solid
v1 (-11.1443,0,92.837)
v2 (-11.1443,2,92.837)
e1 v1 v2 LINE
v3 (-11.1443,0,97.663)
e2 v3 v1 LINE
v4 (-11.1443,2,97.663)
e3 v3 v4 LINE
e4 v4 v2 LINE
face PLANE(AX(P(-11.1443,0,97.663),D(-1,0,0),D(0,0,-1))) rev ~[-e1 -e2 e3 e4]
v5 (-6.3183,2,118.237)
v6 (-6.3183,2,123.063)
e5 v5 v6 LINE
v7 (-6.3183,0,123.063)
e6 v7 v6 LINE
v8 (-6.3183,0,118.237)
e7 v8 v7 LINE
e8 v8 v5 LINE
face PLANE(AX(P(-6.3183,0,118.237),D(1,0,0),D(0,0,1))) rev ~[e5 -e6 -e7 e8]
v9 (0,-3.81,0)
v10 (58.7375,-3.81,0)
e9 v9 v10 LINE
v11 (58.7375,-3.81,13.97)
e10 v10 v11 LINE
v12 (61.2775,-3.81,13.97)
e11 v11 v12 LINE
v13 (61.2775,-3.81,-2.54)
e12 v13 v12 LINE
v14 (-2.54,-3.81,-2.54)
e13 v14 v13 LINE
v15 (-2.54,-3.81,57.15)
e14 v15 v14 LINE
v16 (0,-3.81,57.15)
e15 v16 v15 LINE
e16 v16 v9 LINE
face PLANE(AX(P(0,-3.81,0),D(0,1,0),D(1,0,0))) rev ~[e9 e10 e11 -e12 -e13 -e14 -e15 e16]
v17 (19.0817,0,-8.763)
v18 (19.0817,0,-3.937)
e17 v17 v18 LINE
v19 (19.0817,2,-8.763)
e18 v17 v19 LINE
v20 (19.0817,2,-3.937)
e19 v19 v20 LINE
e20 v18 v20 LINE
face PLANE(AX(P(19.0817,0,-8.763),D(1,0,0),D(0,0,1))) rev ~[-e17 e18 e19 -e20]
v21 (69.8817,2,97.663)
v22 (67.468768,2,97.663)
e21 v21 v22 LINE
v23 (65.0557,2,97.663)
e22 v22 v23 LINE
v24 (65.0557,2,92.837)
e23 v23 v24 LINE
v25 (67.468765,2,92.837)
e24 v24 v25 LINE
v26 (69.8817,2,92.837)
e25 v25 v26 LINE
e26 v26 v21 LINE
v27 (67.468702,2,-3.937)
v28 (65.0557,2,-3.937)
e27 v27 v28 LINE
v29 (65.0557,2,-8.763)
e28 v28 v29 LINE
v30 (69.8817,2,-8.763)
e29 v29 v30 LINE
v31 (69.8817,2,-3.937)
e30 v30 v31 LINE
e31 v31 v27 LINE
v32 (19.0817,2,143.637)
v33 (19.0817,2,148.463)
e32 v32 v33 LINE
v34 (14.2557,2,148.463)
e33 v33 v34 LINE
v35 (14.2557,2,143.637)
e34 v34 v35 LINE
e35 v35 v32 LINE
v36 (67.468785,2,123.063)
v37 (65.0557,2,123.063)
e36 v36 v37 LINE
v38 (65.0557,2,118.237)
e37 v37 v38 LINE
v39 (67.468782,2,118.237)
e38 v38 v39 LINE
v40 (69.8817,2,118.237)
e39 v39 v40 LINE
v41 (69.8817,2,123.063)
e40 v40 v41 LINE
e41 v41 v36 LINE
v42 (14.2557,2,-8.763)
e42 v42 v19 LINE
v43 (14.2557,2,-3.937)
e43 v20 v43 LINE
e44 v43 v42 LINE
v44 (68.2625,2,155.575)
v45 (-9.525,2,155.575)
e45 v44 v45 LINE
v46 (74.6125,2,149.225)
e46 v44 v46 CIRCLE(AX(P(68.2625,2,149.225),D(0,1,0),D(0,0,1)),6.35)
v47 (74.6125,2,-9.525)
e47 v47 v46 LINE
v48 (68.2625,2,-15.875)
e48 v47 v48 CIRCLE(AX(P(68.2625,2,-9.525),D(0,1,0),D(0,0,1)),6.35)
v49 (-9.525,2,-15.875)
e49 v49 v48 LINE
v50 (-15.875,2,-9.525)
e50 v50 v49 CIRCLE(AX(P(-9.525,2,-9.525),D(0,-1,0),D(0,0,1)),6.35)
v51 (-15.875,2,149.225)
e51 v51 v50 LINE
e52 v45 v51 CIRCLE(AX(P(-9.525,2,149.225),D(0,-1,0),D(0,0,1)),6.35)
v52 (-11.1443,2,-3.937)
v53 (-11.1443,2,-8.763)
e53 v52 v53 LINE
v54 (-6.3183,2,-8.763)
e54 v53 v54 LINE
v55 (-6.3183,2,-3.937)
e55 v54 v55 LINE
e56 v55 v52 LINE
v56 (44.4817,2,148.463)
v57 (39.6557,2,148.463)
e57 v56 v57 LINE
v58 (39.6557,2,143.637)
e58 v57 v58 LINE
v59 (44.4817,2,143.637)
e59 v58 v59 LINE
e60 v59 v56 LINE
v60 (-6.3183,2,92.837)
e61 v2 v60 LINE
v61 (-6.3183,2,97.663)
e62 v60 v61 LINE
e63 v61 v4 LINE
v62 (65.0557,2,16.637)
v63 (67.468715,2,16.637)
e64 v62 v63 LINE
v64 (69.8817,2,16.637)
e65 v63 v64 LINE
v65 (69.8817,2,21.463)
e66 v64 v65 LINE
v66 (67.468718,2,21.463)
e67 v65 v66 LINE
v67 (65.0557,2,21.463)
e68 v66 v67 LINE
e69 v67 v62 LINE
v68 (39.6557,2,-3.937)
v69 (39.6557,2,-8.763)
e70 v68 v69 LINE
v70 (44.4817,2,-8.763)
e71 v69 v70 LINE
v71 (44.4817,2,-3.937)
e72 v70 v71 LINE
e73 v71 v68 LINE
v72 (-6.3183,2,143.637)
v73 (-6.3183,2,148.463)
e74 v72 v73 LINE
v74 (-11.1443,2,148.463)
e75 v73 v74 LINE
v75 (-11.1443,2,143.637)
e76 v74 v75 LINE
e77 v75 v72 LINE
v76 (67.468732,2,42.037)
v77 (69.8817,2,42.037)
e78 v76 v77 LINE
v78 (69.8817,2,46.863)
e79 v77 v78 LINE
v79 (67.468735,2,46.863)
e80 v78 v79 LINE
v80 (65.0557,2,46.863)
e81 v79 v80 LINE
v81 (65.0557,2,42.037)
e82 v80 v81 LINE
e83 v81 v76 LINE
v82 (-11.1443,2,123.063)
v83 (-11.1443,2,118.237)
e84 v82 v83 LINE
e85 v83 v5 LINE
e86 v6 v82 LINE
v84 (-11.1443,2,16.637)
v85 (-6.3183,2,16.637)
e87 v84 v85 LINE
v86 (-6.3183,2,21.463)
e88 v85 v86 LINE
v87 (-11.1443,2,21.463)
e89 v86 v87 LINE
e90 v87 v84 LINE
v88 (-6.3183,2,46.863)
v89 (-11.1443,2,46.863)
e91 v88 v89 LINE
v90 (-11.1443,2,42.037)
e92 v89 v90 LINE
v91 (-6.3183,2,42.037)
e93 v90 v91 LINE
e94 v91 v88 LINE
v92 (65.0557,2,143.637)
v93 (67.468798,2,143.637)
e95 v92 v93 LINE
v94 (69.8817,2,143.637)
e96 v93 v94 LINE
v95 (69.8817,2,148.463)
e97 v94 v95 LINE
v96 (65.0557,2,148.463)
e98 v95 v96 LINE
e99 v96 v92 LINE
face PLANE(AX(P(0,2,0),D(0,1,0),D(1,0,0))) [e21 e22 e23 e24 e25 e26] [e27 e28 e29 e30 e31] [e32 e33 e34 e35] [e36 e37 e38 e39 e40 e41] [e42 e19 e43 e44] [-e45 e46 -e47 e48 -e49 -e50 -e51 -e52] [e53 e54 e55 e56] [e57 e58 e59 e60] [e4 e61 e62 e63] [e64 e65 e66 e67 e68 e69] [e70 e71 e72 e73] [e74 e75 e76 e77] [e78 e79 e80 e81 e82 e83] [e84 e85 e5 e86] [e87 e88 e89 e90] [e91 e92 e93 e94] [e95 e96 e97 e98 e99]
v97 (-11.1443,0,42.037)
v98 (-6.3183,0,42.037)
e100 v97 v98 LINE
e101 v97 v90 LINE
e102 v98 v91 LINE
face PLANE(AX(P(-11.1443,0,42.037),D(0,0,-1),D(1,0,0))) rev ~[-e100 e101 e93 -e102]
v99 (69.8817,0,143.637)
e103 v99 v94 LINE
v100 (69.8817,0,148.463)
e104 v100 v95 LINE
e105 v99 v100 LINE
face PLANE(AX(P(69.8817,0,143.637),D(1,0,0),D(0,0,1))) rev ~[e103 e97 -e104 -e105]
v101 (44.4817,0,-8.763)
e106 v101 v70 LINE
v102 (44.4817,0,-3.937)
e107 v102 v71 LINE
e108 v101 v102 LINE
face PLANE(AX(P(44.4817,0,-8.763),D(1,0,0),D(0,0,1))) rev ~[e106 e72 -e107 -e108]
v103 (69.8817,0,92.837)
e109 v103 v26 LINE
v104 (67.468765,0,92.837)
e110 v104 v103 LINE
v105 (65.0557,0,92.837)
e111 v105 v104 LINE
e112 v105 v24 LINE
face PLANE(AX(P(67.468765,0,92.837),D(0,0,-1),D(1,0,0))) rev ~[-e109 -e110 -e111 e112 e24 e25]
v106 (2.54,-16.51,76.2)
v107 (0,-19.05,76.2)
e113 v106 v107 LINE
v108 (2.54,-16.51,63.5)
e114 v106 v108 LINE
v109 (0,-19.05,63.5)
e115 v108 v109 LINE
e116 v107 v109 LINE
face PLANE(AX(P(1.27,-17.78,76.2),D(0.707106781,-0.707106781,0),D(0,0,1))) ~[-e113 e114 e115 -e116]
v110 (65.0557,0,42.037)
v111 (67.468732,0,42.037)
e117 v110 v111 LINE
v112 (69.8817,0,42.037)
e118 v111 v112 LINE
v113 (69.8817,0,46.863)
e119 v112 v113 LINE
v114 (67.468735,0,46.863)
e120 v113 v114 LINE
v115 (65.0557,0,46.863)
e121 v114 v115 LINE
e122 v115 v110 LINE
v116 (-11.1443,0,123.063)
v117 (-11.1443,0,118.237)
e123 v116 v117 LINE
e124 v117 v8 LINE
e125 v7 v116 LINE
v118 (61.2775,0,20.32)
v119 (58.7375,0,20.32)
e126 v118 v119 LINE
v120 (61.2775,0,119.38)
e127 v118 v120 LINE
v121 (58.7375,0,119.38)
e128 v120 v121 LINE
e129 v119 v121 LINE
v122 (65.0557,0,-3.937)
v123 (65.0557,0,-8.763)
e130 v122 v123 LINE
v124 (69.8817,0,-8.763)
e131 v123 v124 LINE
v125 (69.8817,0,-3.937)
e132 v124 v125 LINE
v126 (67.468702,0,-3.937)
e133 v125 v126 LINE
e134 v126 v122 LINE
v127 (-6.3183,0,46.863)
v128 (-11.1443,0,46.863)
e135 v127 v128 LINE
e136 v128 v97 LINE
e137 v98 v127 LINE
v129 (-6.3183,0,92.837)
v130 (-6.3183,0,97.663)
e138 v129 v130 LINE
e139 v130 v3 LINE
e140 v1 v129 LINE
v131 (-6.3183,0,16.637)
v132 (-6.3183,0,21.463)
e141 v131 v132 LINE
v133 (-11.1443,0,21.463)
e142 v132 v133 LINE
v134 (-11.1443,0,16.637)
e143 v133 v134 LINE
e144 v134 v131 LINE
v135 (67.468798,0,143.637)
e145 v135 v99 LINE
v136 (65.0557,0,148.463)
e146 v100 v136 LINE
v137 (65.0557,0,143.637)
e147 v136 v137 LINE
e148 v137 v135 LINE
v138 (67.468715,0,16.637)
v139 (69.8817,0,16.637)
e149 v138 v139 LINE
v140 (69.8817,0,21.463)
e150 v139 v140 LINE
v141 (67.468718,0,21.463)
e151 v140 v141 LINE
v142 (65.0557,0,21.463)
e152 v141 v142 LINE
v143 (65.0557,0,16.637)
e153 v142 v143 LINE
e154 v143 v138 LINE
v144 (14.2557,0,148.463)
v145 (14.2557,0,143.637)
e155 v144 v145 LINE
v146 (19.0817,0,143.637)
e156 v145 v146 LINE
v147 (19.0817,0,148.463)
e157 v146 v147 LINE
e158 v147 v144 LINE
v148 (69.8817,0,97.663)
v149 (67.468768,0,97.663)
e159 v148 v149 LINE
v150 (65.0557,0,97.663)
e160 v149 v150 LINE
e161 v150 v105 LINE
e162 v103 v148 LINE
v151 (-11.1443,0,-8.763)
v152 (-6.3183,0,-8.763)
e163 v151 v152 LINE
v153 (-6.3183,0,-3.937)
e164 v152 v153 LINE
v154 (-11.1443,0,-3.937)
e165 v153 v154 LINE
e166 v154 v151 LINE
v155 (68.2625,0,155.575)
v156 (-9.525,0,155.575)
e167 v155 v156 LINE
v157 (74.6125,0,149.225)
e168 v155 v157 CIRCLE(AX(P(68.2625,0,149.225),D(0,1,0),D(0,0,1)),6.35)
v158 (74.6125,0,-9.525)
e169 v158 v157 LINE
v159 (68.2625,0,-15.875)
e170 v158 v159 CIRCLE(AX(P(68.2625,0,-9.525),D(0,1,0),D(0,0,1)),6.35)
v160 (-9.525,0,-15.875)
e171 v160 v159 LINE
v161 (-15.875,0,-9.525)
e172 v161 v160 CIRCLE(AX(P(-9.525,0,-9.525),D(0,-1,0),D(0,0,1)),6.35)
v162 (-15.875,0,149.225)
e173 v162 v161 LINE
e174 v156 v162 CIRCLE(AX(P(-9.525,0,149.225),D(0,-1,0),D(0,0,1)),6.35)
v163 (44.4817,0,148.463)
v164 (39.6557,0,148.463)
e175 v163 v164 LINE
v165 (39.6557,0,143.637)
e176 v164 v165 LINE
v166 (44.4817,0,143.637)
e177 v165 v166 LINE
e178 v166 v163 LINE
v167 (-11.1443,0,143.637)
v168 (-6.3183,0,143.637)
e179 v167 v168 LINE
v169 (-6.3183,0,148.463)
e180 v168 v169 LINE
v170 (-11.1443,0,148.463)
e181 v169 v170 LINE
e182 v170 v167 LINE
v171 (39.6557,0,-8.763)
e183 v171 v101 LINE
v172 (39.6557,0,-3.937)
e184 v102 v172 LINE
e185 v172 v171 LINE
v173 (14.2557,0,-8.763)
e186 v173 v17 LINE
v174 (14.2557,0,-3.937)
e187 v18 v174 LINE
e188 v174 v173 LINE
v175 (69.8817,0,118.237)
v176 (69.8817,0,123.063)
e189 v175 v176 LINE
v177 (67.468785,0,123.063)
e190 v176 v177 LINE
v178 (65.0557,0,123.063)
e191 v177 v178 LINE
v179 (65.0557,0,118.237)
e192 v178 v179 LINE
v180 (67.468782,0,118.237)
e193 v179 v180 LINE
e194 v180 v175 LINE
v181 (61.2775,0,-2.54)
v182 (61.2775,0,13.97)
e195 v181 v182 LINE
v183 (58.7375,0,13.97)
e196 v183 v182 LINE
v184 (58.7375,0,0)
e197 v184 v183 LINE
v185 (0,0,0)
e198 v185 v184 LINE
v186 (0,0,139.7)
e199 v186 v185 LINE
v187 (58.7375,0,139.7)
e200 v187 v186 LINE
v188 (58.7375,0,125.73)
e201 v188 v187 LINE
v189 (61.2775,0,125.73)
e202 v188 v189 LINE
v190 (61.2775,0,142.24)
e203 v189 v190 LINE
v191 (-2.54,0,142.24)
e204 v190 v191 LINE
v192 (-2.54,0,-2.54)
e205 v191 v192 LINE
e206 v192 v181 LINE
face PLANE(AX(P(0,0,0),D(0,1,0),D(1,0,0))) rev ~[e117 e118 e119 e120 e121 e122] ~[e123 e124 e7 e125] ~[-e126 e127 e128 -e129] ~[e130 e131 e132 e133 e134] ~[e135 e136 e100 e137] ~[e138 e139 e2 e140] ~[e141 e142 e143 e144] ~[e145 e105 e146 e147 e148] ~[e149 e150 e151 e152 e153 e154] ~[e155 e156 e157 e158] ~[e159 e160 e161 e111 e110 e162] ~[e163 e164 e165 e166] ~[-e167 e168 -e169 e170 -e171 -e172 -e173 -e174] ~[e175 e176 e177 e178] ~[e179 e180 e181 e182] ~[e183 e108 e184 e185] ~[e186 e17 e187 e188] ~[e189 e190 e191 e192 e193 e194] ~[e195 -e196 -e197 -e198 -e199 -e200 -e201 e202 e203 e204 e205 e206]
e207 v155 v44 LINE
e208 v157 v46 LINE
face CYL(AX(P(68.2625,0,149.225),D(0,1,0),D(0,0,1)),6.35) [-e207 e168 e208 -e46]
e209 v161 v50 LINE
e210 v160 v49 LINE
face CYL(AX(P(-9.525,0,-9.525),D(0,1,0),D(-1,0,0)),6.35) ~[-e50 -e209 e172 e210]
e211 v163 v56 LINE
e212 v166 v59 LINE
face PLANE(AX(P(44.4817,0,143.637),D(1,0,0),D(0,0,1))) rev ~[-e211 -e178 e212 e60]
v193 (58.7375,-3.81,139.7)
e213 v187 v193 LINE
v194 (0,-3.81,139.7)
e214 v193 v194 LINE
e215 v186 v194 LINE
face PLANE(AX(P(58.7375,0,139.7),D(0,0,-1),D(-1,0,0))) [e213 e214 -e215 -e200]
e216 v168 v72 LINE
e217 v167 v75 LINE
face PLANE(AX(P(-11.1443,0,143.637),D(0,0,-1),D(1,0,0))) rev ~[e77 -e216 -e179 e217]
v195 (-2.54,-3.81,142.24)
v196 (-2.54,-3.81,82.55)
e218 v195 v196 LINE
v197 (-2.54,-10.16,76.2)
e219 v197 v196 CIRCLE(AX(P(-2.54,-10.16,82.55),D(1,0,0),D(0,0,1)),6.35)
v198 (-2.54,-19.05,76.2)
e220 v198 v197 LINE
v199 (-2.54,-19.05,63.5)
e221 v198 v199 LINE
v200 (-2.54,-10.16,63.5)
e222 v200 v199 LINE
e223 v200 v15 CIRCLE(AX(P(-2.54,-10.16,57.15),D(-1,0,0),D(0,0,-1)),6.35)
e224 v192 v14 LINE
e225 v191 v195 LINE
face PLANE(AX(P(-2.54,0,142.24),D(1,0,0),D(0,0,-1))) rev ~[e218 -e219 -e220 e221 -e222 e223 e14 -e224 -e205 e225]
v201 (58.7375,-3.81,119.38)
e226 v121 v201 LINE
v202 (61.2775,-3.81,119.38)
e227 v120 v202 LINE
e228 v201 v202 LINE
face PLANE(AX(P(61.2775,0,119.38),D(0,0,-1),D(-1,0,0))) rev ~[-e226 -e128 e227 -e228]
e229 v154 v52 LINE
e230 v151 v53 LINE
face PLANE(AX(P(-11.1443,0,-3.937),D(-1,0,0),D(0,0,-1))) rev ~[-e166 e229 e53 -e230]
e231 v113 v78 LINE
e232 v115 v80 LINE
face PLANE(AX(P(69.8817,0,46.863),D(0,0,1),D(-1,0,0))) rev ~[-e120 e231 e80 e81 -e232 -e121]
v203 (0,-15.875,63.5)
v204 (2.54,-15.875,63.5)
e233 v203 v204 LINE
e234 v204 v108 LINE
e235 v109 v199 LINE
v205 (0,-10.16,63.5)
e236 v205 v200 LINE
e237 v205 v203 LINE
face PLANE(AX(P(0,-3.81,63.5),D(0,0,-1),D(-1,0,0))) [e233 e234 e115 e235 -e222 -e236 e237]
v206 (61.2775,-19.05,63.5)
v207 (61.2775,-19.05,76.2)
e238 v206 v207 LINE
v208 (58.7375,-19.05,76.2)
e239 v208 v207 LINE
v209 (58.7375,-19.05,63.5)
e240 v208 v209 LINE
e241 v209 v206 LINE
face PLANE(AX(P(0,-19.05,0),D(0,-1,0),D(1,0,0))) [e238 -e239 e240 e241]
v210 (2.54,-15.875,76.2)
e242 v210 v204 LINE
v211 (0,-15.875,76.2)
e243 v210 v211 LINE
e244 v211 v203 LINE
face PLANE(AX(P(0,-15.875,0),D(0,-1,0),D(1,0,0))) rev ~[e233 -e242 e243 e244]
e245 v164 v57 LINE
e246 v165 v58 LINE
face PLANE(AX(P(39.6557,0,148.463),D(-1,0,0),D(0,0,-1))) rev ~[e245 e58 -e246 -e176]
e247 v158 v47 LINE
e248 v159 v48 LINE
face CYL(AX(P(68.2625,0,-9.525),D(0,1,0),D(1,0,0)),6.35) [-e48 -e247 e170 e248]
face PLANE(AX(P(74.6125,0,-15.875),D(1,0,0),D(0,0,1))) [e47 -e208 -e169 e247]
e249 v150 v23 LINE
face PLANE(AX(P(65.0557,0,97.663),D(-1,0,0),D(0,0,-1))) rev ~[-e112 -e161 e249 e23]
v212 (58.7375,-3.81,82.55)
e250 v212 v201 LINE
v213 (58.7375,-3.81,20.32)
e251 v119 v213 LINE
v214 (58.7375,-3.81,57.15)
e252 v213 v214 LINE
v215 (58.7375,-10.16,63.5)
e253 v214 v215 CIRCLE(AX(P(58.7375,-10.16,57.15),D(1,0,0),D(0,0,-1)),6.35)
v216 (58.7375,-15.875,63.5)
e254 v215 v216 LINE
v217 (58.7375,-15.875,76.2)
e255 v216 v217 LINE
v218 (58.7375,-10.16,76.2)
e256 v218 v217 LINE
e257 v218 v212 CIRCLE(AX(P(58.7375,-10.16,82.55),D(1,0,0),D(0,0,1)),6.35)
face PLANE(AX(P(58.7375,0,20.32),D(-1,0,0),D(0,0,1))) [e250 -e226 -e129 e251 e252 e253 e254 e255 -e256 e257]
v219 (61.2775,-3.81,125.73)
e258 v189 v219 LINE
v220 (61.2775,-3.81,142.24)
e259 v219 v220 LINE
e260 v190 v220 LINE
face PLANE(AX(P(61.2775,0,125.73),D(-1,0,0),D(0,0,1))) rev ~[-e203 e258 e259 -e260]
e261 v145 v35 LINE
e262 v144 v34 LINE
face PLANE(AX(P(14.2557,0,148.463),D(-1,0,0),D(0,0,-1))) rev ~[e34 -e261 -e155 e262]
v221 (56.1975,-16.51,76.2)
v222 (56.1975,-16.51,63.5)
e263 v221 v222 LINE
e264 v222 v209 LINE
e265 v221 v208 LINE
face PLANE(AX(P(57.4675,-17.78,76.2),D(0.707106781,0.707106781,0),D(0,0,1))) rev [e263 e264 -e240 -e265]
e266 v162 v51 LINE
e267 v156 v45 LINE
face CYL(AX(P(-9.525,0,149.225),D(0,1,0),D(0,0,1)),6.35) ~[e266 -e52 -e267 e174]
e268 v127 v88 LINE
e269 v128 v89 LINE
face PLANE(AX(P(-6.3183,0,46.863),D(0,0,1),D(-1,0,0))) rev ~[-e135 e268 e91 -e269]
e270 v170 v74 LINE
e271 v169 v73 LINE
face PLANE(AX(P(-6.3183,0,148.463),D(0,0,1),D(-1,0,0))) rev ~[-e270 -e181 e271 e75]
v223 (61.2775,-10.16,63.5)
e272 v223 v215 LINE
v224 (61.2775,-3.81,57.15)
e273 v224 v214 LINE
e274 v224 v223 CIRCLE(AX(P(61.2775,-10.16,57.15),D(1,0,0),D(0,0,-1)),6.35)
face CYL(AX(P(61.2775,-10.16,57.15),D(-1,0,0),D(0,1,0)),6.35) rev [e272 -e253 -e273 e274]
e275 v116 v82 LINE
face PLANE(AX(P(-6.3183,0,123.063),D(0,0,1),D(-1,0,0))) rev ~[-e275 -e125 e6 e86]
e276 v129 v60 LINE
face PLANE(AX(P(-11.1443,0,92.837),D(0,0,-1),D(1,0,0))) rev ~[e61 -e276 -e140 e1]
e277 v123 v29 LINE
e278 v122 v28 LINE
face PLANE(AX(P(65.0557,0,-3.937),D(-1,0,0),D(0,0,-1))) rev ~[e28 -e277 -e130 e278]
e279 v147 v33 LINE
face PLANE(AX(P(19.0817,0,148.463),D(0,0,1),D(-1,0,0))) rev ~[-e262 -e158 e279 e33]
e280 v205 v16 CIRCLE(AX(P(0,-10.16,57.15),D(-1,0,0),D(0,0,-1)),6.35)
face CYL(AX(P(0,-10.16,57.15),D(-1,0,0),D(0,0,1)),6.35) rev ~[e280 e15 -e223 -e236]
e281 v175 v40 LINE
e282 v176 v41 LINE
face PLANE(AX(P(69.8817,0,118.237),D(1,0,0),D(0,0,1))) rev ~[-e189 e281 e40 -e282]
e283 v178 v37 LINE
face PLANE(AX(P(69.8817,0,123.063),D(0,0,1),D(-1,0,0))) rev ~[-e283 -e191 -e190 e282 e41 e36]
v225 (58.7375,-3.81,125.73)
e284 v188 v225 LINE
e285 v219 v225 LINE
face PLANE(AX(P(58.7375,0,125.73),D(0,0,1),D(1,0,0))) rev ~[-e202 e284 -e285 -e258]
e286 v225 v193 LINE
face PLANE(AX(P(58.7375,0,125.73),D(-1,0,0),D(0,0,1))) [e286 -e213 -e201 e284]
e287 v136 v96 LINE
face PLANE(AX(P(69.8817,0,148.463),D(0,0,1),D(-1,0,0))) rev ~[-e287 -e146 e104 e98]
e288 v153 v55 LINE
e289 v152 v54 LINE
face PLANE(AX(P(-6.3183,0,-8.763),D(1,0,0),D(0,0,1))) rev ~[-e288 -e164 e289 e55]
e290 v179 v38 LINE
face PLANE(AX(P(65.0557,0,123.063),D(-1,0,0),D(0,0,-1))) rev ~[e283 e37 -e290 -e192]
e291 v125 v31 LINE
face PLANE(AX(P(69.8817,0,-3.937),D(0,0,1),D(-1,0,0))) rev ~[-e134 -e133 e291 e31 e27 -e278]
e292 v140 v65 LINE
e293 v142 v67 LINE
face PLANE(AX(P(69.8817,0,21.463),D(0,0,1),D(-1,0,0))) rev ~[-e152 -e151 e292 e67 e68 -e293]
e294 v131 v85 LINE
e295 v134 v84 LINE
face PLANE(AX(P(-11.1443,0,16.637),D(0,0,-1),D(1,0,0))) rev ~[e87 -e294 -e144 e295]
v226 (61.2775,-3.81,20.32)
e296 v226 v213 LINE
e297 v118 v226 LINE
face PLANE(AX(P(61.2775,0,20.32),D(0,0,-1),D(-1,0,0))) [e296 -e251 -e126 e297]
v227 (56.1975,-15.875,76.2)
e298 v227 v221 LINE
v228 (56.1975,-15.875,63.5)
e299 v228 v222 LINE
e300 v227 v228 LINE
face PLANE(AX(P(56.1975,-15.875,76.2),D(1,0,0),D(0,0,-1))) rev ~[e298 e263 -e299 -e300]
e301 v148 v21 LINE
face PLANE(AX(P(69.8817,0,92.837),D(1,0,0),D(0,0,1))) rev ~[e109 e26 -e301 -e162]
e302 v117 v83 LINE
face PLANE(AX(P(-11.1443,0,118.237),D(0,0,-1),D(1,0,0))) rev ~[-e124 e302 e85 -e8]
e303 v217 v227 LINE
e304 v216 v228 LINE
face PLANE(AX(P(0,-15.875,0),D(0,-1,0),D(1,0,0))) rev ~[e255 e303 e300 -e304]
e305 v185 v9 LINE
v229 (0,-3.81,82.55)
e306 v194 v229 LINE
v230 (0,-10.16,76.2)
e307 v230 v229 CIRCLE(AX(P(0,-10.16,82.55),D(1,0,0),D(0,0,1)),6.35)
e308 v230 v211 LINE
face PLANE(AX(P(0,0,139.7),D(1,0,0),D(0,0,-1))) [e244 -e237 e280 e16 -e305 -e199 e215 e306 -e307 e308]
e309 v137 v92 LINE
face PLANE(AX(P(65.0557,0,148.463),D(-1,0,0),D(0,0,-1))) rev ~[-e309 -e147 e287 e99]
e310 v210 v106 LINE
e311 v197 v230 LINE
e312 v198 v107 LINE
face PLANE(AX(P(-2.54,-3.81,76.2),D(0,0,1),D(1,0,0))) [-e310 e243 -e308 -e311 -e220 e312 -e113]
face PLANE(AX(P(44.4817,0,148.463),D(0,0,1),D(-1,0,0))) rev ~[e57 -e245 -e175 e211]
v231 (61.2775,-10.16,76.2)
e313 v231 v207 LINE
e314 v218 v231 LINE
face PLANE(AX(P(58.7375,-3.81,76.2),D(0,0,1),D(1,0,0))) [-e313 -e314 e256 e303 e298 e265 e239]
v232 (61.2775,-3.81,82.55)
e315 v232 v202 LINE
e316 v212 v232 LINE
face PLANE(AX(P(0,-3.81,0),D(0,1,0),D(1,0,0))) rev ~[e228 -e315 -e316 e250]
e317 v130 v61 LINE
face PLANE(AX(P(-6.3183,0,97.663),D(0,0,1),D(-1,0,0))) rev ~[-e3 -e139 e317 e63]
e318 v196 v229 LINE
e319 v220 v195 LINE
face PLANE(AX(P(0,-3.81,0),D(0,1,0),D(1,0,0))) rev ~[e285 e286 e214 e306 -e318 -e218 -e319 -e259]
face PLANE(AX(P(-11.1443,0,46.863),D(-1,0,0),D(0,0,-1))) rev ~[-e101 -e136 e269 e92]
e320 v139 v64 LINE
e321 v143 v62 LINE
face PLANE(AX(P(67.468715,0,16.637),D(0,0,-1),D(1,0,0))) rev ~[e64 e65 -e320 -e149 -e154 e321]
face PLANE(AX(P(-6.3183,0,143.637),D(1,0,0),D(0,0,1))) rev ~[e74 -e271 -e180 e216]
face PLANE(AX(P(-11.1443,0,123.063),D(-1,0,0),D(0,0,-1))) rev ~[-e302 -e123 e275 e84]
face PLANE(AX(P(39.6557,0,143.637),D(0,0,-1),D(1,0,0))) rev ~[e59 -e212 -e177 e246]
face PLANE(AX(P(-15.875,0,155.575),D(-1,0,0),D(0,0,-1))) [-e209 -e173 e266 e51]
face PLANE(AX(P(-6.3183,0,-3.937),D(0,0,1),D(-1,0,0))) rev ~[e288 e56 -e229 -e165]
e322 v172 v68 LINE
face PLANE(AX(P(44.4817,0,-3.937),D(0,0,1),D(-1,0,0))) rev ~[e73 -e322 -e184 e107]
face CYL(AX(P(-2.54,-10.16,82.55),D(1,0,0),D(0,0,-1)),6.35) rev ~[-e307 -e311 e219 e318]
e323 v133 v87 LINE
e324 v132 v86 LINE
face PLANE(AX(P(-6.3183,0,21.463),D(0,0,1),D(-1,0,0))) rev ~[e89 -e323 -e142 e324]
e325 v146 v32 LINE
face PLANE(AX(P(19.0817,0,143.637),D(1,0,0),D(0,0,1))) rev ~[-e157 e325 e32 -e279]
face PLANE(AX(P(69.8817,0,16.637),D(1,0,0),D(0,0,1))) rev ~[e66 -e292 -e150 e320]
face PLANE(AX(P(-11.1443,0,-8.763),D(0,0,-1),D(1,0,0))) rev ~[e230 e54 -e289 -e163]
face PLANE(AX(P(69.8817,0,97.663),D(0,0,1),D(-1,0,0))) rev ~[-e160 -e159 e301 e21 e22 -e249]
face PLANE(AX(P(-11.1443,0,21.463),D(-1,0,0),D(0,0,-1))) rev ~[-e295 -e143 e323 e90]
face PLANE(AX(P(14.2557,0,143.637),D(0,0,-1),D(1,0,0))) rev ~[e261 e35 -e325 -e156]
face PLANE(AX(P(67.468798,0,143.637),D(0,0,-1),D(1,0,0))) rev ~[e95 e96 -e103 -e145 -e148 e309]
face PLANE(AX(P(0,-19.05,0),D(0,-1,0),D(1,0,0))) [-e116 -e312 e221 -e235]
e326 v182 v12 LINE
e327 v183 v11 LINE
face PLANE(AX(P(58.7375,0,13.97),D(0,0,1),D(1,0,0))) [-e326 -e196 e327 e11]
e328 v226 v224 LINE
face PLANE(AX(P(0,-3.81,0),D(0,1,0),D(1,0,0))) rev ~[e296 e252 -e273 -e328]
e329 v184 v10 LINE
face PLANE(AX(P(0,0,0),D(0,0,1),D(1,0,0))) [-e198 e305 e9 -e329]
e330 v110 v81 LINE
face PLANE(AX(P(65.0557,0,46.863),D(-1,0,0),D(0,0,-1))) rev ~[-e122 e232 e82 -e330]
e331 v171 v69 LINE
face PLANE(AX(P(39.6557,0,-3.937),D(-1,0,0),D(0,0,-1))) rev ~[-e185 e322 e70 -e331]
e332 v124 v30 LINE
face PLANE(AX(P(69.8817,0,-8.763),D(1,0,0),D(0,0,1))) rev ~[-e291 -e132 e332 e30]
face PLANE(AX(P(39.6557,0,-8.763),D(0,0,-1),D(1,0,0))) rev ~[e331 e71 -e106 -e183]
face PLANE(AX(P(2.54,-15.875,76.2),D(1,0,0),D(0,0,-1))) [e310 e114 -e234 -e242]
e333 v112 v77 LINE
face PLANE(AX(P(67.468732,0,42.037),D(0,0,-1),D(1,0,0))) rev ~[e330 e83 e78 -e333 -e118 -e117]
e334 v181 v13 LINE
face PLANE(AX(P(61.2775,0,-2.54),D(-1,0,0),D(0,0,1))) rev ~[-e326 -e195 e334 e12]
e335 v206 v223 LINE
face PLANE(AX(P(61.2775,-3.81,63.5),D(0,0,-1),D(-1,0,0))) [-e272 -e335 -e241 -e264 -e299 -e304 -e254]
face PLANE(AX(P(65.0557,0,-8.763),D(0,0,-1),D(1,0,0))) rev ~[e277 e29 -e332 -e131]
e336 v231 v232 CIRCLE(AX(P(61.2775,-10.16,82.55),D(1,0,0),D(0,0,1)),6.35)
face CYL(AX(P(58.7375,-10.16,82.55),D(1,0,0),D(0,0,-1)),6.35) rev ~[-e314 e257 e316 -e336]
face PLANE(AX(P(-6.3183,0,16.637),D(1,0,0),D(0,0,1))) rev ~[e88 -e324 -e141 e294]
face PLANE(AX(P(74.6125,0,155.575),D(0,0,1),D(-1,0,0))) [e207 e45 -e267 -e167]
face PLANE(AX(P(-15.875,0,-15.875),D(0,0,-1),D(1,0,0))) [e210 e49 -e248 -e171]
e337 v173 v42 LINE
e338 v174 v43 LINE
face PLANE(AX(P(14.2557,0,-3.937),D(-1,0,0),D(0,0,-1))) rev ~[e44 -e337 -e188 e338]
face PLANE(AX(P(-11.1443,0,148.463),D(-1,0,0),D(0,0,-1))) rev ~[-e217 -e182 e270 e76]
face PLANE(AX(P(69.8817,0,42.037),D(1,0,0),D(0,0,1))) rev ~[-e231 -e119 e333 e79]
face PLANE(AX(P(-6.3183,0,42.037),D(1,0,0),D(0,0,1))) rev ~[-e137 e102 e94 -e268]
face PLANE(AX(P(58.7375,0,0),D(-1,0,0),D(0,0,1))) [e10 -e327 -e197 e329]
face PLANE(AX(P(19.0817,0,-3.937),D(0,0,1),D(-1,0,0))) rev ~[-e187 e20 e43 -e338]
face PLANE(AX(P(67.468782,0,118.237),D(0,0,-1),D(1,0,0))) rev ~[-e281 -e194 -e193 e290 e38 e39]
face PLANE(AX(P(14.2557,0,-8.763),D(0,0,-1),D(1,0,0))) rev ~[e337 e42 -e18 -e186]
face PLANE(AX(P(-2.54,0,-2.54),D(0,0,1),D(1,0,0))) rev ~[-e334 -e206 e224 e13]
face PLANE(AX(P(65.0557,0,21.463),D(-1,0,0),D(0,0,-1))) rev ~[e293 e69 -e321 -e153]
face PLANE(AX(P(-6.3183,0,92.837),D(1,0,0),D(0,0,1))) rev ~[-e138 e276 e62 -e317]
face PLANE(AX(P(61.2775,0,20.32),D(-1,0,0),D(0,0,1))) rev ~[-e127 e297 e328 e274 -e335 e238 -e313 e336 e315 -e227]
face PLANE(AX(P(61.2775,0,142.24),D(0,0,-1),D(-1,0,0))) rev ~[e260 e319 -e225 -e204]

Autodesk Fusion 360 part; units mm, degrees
sketch "Sketch1" plane through (0, 0, 0) normal (0, 1, 0) x (1, 0, 0)
  line L0 (0, 0) -> (58.7375, 0)
  line L1 (58.7375, 0) -> (58.7375, -139.7)
  line L2 (58.7375, -139.7) -> (0, -139.7)
  line L3 (0, -139.7) -> (0, 0)
  line L4 (61.2775, -142.24) -> (-2.54, -142.24)
  line L5 (-2.54, -142.24) -> (-2.54, 2.54)
  line L6 (-2.54, 2.54) -> (61.2775, 2.54)
  line L7 (61.2775, 2.54) -> (61.2775, -142.24)
  line L8 (29.3688, 0) -> (29.3688, -139.7) construction
  line L9 (-8.7313, 6.35) -> (67.4687, 6.35) construction
  line L10 (67.4687, 6.35) -> (67.4688, -146.05)
  line L11 (67.4688, -146.05) -> (-8.7313, -146.05) construction
  line L12 (-8.7313, -146.05) -> (-8.7313, 6.35) construction
  line L13 (-8.7313, 6.35) -> (67.4688, -146.05) construction
  line L14 (67.4687, 6.35) -> (-8.7313, -146.05) construction
  line L15 (-11.1443, 8.763) -> (-6.3183, 8.763)
  line L16 (-6.3183, 8.763) -> (-6.3183, 3.937)
  line L17 (-6.3183, 3.937) -> (-11.1443, 3.937)
  line L18 (-11.1443, 3.937) -> (-11.1443, 8.763)
  line L19 (-11.1443, 8.763) -> (-6.3183, 3.937) construction
  line L20 (-6.3183, 8.763) -> (-11.1443, 3.937) construction
  line L21 (19.0817, 8.763) -> (19.0817, 3.937)
  line L22 (19.0817, 3.937) -> (14.2557, 3.937)
  line L23 (14.2557, 3.937) -> (14.2557, 8.763)
  line L24 (14.2557, 8.763) -> (19.0817, 8.763)
  line L25 (44.4817, 8.763) -> (44.4817, 3.937)
  line L26 (44.4817, 3.937) -> (39.6557, 3.937)
  line L27 (39.6557, 3.937) -> (39.6557, 8.763)
  line L28 (39.6557, 8.763) -> (44.4817, 8.763)
  line L29 (-6.3183, -143.637) -> (-6.3183, -148.463)
  line L30 (-6.3183, -148.463) -> (-11.1443, -148.463)
  line L31 (-11.1443, -148.463) -> (-11.1443, -143.637)
  line L32 (-11.1443, -143.637) -> (-6.3183, -143.637)
  line L33 (19.0817, -143.637) -> (19.0817, -148.463)
  line L34 (19.0817, -148.463) -> (14.2557, -148.463)
  line L35 (14.2557, -148.463) -> (14.2557, -143.637)
  line L36 (14.2557, -143.637) -> (19.0817, -143.637)
  line L37 (44.4817, -143.637) -> (44.4817, -148.463)
  line L38 (44.4817, -148.463) -> (39.6557, -148.463)
  line L39 (39.6557, -148.463) -> (39.6557, -143.637)
  line L40 (39.6557, -143.637) -> (44.4817, -143.637)
  line L41 (69.8817, 8.763) -> (69.8817, 3.937)
  line L42 (69.8817, 3.937) -> (65.0557, 3.937)
  line L43 (65.0557, 3.937) -> (65.0557, 8.763)
  line L44 (65.0557, 8.763) -> (69.8817, 8.763)
  line L45 (69.8817, -143.637) -> (69.8817, -148.463)
  line L46 (69.8817, -148.463) -> (65.0557, -148.463)
  line L47 (65.0557, -148.463) -> (65.0557, -143.637)
  line L48 (65.0557, -143.637) -> (69.8817, -143.637)
  line L49 (74.6125, -155.575) -> (-15.875, -155.575)
  line L50 (-15.875, -155.575) -> (-15.875, 15.875)
  line L51 (-15.875, 15.875) -> (74.6125, 15.875)
  line L52 (74.6125, 15.875) -> (74.6125, -155.575)
  line L53 (58.7375, -125.73) -> (61.2775, -125.73)
  line L54 (61.2775, -125.73) -> (61.2775, -119.38)
  line L55 (61.2775, -119.38) -> (58.7375, -119.38)
  line L56 (58.7375, -119.38) -> (58.7375, -125.73)
  line L57 (60.0075, -125.73) -> (60.0075, -119.38)
  line L58 (29.3688, -69.85) -> (58.7375, -69.85) construction
  line L59 (61.2775, -20.32) -> (58.7375, -20.32)
  line L60 (58.7375, -20.32) -> (58.7375, -13.97)
  line L61 (58.7375, -13.97) -> (61.2775, -13.97)
  line L62 (61.2775, -13.97) -> (61.2775, -20.32)
  line L63 (-11.1443, -21.463) -> (-11.1443, -16.637)
  line L64 (-6.3183, -21.463) -> (-11.1443, -21.463)
  line L65 (-6.3183, -16.637) -> (-6.3183, -21.463)
  line L66 (-11.1443, -16.637) -> (-6.3183, -16.637)
  line L67 (69.8817, -21.463) -> (65.0557, -21.463)
  line L68 (69.8817, -16.637) -> (69.8817, -21.463)
  line L69 (65.0557, -21.463) -> (65.0557, -16.637)
  line L70 (65.0557, -16.637) -> (69.8817, -16.637)
  line L71 (-11.1443, -46.863) -> (-11.1443, -42.037)
  line L72 (-6.3183, -46.863) -> (-11.1443, -46.863)
  line L73 (-6.3183, -42.037) -> (-6.3183, -46.863)
  line L74 (-11.1443, -42.037) -> (-6.3183, -42.037)
  line L75 (69.8817, -46.863) -> (65.0557, -46.863)
  line L76 (69.8817, -42.037) -> (69.8817, -46.863)
  line L77 (65.0557, -46.863) -> (65.0557, -42.037)
  line L78 (65.0557, -42.037) -> (69.8817, -42.037)
  line L79 (-11.1443, -72.263) -> (-11.1443, -67.437)
  line L80 (-6.3183, -72.263) -> (-11.1443, -72.263)
  line L81 (-6.3183, -67.437) -> (-6.3183, -72.263)
  line L82 (-11.1443, -67.437) -> (-6.3183, -67.437)
  line L83 (69.8817, -72.263) -> (65.0557, -72.263)
  line L84 (69.8817, -67.437) -> (69.8817, -72.263)
  line L85 (65.0557, -72.263) -> (65.0557, -67.437)
  line L86 (65.0557, -67.437) -> (69.8817, -67.437)
  line L87 (-11.1443, -97.663) -> (-11.1443, -92.837)
  line L88 (-6.3183, -97.663) -> (-11.1443, -97.663)
  line L89 (-6.3183, -92.837) -> (-6.3183, -97.663)
  line L90 (-11.1443, -92.837) -> (-6.3183, -92.837)
  line L91 (69.8817, -97.663) -> (65.0557, -97.663)
  line L92 (69.8817, -92.837) -> (69.8817, -97.663)
  line L93 (65.0557, -97.663) -> (65.0557, -92.837)
  line L94 (65.0557, -92.837) -> (69.8817, -92.837)
  line L95 (-11.1443, -123.063) -> (-11.1443, -118.237)
  line L96 (-6.3183, -123.063) -> (-11.1443, -123.063)
  line L97 (-6.3183, -118.237) -> (-6.3183, -123.063)
  line L98 (-11.1443, -118.237) -> (-6.3183, -118.237)
  line L99 (69.8817, -123.063) -> (65.0557, -123.063)
  line L100 (69.8817, -118.237) -> (69.8817, -123.063)
  line L101 (65.0557, -123.063) -> (65.0557, -118.237)
  line L102 (65.0557, -118.237) -> (69.8817, -118.237)
  dimension "d1" = 139.7
  dimension "d2" = 58.7375
  dimension "d3" = 2.54
  dimension "d4" = 152.4
  dimension "d5" = 76.2
  dimension "d6" = 4.826
  dimension "d7" = 4.826
  dimension "d10" = 76.2
  dimension "d11" = -152.4
  dimension "d16" = 15.875
  dimension "d27" = 6.35
  dimension "d28" = 17.145
  dimension "d31" = 0
  dimension "d32" = -127
extrude "Extrude1" add sketch "Sketch1" along normal blind 2 contours L0 L1 L2 L3 L4 L5 L6 L7 L53 L61 | L0 L1 L2 L3 L56 L60 | L1 L7 L59 L60 L61 L62 | L1 L7 L55 L59 | L1 L53 L55 L56 L57 | L7 L53 L54 L55 L57 | L10 L83 L84 L86 | L10 L83 L85 L86 | L49 L50 L51 L52 | L79 L80 L81 L82
extrude "Extrude2" add sketch "Sketch1" against normal blind 3.81 contours L0 L1 L2 L3 L4 L5 L6 L7 L53 L61 | L1 L7 L55 L59
sketch "Sketch2" plane through (0, -3.81, 0) normal (0, -1, 0) x (1, 0, 0)
  line L0 (0, 139.7) -> (58.7375, 139.7)
  line L1 (58.7375, 139.7) -> (58.7375, 125.73)
  line L2 (58.7375, 0) -> (0, 0)
  line L3 (0, 0) -> (0, 139.7)
  line L4 (-2.54, -2.54) -> (61.2775, -2.54)
  line L5 (61.2775, 125.73) -> (61.2775, 142.24)
  line L6 (61.2775, 142.24) -> (-2.54, 142.24)
  line L7 (-2.54, 142.24) -> (-2.54, -2.54)
  line L8 (-2.54, 69.85) -> (61.2775, 69.85)
  line L9 (-2.54, 76.2) -> (0, 76.2)
  line L10 (0, 76.2) -> (0, 63.5)
  line L11 (0, 63.5) -> (-2.54, 63.5)
  line L12 (-2.54, 63.5) -> (-2.54, 76.2)
  line L13 (58.7375, 76.2) -> (61.2775, 76.2)
  line L14 (61.2775, 76.2) -> (61.2775, 63.5)
  line L15 (61.2775, 63.5) -> (58.7375, 63.5)
  line L16 (58.7375, 63.5) -> (58.7375, 76.2)
  line L17 (58.7375, 125.73) -> (61.2775, 125.73)
  line L18 (61.2775, -2.54) -> (61.2775, 13.97)
  line L19 (61.2775, 13.97) -> (58.7375, 13.97)
  line L20 (58.7375, 13.97) -> (58.7375, 0)
  line L21 (61.2775, 119.38) -> (61.2775, 20.32)
  dimension "d21" = 12.7
extrude "Extrude3" add sketch "Sketch2" along normal blind 12.065 contours L8 L13 L14 L16 L21 | L8 L14 L15 L16 L21 | L3 L7 L8 L9 L10 L12 | L3 L7 L8 L10 L11 L12
sketch "Sketch3" plane through (0, -15.875, 0) normal (0, -1, 0) x (1, 0, 0)
  line L0 (58.7375, 63.5) -> (61.2775, 63.5)
  line L1 (61.2775, 63.5) -> (61.2775, 76.2)
  line L2 (61.2775, 76.2) -> (58.7375, 76.2)
  line L3 (58.7375, 76.2) -> (58.7375, 63.5)
  line L4 (-2.54, 63.5) -> (0, 63.5)
  line L5 (0, 63.5) -> (0, 76.2)
  line L6 (0, 76.2) -> (-2.54, 76.2)
  line L7 (-2.54, 76.2) -> (-2.54, 63.5)
  line L8 (-2.54, 76.2) -> (2.54, 76.2)
  line L9 (2.54, 76.2) -> (2.54, 63.5)
  line L10 (2.54, 63.5) -> (-2.54, 63.5)
  line L11 (-2.54, 63.5) -> (-2.54, 76.2)
  line L12 (61.2775, 76.2) -> (56.1975, 76.2)
  line L13 (56.1975, 76.2) -> (56.1975, 63.5)
  line L14 (56.1975, 63.5) -> (61.2775, 63.5)
  line L15 (61.2775, 63.5) -> (61.2775, 76.2)
  dimension "d24" = 2.54
extrude "Extrude4" add sketch "Sketch3" along normal blind 3.175
chamfer "Chamfer1" distance 2.54 angle 45 2 edges at (2.54, -19.05, 69.85) (56.1975, -19.05, 69.85)
fillet "Fillet1" radius 6.35 4 edges at (-1.27, -3.81, 63.5) (60.0075, -3.81, 63.5) (60.0075, -3.81, 76.2) (-1.27, -3.81, 76.2)
fillet "Fillet2" radius 6.35 4 edges at (-15.875, 1, -15.875) (74.6125, 1, -15.875) (74.6125, 1, 155.575) (-15.875, 1, 155.575)
sketch "Sketch4" plane through (0, 0, 0) normal (0, -1, 0) x (1, 0, 0)
  line L0 (61.2775, 20.32) -> (58.7375, 20.32)
  line L1 (58.7375, 20.32) -> (58.7375, 119.38)
  line L2 (58.7375, 119.38) -> (61.2775, 119.38)
  line L3 (61.2775, 119.38) -> (61.2775, 20.32)
  line L4 (58.7375, 139.7) -> (0, 139.7)
  line L5 (0, 139.7) -> (0, 0)
  line L6 (0, 0) -> (58.7375, 0)
  line L7 (58.7375, 0) -> (58.7375, 13.97)
  line L8 (58.7375, 13.97) -> (61.2775, 13.97)
  line L9 (61.2775, 13.97) -> (61.2775, -2.54)
  line L10 (61.2775, -2.54) -> (-2.54, -2.54)
  line L11 (-2.54, -2.54) -> (-2.54, 142.24)
  line L12 (-2.54, 142.24) -> (61.2775, 142.24)
  line L13 (61.2775, 142.24) -> (61.2775, 125.73)
  line L14 (61.2775, 125.73) -> (58.7375, 125.73)
  line L15 (58.7375, 125.73) -> (58.7375, 139.7)
  line L16 (65.0557, 42.037) -> (65.0557, 46.863)
  line L17 (65.0557, 46.863) -> (69.8817, 46.863)
  line L18 (69.8817, 46.863) -> (69.8817, 42.037)
  line L19 (69.8817, 42.037) -> (65.0557, 42.037)
  line L20 (65.0557, 16.637) -> (65.0557, 21.463)
  line L21 (65.0557, 21.463) -> (69.8817, 21.463)
  line L22 (69.8817, 21.463) -> (69.8817, 16.637)
  line L23 (69.8817, 16.637) -> (65.0557, 16.637)
  line L24 (65.0557, 92.837) -> (65.0557, 97.663)
  line L25 (65.0557, 97.663) -> (69.8817, 97.663)
  line L26 (69.8817, 97.663) -> (69.8817, 92.837)
  line L27 (69.8817, 92.837) -> (65.0557, 92.837)
  line L28 (65.0557, 118.237) -> (65.0557, 123.063)
  line L29 (65.0557, 123.063) -> (69.8817, 123.063)
  line L30 (69.8817, 123.063) -> (69.8817, 118.237)
  line L31 (69.8817, 118.237) -> (65.0557, 118.237)
  line L32 (65.0557, 143.637) -> (65.0557, 148.463)
  line L33 (65.0557, 148.463) -> (69.8817, 148.463)
  line L34 (69.8817, 148.463) -> (69.8817, 143.637)
  line L35 (69.8817, 143.637) -> (65.0557, 143.637)
  line L36 (65.0557, -8.763) -> (65.0557, -3.937)
  line L37 (65.0557, -3.937) -> (69.8817, -3.937)
  line L38 (69.8817, -3.937) -> (69.8817, -8.763)
  line L39 (69.8817, -8.763) -> (65.0557, -8.763)
  line L40 (-11.1443, 118.237) -> (-11.1443, 123.063)
  line L41 (-11.1443, 123.063) -> (-6.3183, 123.063)
  line L42 (-6.3183, 123.063) -> (-6.3183, 118.237)
  line L43 (-6.3183, 118.237) -> (-11.1443, 118.237)
  line L44 (-11.1443, 92.837) -> (-11.1443, 97.663)
  line L45 (-11.1443, 97.663) -> (-6.3183, 97.663)
  line L46 (-6.3183, 97.663) -> (-6.3183, 92.837)
  line L47 (-6.3183, 92.837) -> (-11.1443, 92.837)
  line L48 (-11.1443, 42.037) -> (-11.1443, 46.863)
  line L49 (-11.1443, 46.863) -> (-6.3183, 46.863)
  line L50 (-6.3183, 46.863) -> (-6.3183, 42.037)
  line L51 (-6.3183, 42.037) -> (-11.1443, 42.037)
  line L52 (-11.1443, 16.637) -> (-11.1443, 21.463)
  line L53 (-11.1443, 21.463) -> (-6.3183, 21.463)
  line L54 (-6.3183, 21.463) -> (-6.3183, 16.637)
  line L55 (-6.3183, 16.637) -> (-11.1443, 16.637)
  line L56 (39.6557, 143.637) -> (39.6557, 148.463)
  line L57 (39.6557, 148.463) -> (44.4817, 148.463)
  line L58 (44.4817, 148.463) -> (44.4817, 143.637)
  line L59 (44.4817, 143.637) -> (39.6557, 143.637)
  line L60 (14.2557, 143.637) -> (14.2557, 148.463)
  line L61 (14.2557, 148.463) -> (19.0817, 148.463)
  line L62 (19.0817, 148.463) -> (19.0817, 143.637)
  line L63 (19.0817, 143.637) -> (14.2557, 143.637)
  line L64 (-11.1443, 143.637) -> (-11.1443, 148.463)
  line L65 (-11.1443, 148.463) -> (-6.3183, 148.463)
  line L66 (-6.3183, 148.463) -> (-6.3183, 143.637)
  line L67 (-6.3183, 143.637) -> (-11.1443, 143.637)
  line L68 (39.6557, -8.763) -> (39.6557, -3.937)
  line L69 (39.6557, -3.937) -> (44.4817, -3.937)
  line L70 (44.4817, -3.937) -> (44.4817, -8.763)
  line L71 (44.4817, -8.763) -> (39.6557, -8.763)
  line L72 (-11.1443, -3.937) -> (-6.3183, -3.937)
  line L73 (-6.3183, -3.937) -> (-6.3183, -8.763)
  line L74 (-6.3183, -8.763) -> (-11.1443, -8.763)
  line L75 (-11.1443, -8.763) -> (-11.1443, -3.937)
  line L76 (14.2557, -8.763) -> (14.2557, -3.937)
  line L77 (14.2557, -3.937) -> (19.0817, -3.937)
  line L78 (19.0817, -3.937) -> (19.0817, -8.763)
  line L79 (19.0817, -8.763) -> (14.2557, -8.763)
  arc A0 (-9.525, 155.575) -> (-15.875, 149.225) centre (-9.525, 149.225) ccw
  line L80 (-15.875, 149.225) -> (-15.875, -9.525)
  arc A1 (-15.875, -9.525) -> (-9.525, -15.875) centre (-9.525, -9.525) ccw
  line L81 (-9.525, -15.875) -> (68.2625, -15.875)
  arc A2 (68.2625, -15.875) -> (74.6125, -9.525) centre (68.2625, -9.525) ccw
  line L82 (74.6125, -9.525) -> (74.6125, 149.225)
  arc A3 (74.6125, 149.225) -> (68.2625, 155.575) centre (68.2625, 149.225) ccw
  line L83 (68.2625, 155.575) -> (-9.525, 155.575)
equation "d22 = 0.625 in - 0.15 in"
